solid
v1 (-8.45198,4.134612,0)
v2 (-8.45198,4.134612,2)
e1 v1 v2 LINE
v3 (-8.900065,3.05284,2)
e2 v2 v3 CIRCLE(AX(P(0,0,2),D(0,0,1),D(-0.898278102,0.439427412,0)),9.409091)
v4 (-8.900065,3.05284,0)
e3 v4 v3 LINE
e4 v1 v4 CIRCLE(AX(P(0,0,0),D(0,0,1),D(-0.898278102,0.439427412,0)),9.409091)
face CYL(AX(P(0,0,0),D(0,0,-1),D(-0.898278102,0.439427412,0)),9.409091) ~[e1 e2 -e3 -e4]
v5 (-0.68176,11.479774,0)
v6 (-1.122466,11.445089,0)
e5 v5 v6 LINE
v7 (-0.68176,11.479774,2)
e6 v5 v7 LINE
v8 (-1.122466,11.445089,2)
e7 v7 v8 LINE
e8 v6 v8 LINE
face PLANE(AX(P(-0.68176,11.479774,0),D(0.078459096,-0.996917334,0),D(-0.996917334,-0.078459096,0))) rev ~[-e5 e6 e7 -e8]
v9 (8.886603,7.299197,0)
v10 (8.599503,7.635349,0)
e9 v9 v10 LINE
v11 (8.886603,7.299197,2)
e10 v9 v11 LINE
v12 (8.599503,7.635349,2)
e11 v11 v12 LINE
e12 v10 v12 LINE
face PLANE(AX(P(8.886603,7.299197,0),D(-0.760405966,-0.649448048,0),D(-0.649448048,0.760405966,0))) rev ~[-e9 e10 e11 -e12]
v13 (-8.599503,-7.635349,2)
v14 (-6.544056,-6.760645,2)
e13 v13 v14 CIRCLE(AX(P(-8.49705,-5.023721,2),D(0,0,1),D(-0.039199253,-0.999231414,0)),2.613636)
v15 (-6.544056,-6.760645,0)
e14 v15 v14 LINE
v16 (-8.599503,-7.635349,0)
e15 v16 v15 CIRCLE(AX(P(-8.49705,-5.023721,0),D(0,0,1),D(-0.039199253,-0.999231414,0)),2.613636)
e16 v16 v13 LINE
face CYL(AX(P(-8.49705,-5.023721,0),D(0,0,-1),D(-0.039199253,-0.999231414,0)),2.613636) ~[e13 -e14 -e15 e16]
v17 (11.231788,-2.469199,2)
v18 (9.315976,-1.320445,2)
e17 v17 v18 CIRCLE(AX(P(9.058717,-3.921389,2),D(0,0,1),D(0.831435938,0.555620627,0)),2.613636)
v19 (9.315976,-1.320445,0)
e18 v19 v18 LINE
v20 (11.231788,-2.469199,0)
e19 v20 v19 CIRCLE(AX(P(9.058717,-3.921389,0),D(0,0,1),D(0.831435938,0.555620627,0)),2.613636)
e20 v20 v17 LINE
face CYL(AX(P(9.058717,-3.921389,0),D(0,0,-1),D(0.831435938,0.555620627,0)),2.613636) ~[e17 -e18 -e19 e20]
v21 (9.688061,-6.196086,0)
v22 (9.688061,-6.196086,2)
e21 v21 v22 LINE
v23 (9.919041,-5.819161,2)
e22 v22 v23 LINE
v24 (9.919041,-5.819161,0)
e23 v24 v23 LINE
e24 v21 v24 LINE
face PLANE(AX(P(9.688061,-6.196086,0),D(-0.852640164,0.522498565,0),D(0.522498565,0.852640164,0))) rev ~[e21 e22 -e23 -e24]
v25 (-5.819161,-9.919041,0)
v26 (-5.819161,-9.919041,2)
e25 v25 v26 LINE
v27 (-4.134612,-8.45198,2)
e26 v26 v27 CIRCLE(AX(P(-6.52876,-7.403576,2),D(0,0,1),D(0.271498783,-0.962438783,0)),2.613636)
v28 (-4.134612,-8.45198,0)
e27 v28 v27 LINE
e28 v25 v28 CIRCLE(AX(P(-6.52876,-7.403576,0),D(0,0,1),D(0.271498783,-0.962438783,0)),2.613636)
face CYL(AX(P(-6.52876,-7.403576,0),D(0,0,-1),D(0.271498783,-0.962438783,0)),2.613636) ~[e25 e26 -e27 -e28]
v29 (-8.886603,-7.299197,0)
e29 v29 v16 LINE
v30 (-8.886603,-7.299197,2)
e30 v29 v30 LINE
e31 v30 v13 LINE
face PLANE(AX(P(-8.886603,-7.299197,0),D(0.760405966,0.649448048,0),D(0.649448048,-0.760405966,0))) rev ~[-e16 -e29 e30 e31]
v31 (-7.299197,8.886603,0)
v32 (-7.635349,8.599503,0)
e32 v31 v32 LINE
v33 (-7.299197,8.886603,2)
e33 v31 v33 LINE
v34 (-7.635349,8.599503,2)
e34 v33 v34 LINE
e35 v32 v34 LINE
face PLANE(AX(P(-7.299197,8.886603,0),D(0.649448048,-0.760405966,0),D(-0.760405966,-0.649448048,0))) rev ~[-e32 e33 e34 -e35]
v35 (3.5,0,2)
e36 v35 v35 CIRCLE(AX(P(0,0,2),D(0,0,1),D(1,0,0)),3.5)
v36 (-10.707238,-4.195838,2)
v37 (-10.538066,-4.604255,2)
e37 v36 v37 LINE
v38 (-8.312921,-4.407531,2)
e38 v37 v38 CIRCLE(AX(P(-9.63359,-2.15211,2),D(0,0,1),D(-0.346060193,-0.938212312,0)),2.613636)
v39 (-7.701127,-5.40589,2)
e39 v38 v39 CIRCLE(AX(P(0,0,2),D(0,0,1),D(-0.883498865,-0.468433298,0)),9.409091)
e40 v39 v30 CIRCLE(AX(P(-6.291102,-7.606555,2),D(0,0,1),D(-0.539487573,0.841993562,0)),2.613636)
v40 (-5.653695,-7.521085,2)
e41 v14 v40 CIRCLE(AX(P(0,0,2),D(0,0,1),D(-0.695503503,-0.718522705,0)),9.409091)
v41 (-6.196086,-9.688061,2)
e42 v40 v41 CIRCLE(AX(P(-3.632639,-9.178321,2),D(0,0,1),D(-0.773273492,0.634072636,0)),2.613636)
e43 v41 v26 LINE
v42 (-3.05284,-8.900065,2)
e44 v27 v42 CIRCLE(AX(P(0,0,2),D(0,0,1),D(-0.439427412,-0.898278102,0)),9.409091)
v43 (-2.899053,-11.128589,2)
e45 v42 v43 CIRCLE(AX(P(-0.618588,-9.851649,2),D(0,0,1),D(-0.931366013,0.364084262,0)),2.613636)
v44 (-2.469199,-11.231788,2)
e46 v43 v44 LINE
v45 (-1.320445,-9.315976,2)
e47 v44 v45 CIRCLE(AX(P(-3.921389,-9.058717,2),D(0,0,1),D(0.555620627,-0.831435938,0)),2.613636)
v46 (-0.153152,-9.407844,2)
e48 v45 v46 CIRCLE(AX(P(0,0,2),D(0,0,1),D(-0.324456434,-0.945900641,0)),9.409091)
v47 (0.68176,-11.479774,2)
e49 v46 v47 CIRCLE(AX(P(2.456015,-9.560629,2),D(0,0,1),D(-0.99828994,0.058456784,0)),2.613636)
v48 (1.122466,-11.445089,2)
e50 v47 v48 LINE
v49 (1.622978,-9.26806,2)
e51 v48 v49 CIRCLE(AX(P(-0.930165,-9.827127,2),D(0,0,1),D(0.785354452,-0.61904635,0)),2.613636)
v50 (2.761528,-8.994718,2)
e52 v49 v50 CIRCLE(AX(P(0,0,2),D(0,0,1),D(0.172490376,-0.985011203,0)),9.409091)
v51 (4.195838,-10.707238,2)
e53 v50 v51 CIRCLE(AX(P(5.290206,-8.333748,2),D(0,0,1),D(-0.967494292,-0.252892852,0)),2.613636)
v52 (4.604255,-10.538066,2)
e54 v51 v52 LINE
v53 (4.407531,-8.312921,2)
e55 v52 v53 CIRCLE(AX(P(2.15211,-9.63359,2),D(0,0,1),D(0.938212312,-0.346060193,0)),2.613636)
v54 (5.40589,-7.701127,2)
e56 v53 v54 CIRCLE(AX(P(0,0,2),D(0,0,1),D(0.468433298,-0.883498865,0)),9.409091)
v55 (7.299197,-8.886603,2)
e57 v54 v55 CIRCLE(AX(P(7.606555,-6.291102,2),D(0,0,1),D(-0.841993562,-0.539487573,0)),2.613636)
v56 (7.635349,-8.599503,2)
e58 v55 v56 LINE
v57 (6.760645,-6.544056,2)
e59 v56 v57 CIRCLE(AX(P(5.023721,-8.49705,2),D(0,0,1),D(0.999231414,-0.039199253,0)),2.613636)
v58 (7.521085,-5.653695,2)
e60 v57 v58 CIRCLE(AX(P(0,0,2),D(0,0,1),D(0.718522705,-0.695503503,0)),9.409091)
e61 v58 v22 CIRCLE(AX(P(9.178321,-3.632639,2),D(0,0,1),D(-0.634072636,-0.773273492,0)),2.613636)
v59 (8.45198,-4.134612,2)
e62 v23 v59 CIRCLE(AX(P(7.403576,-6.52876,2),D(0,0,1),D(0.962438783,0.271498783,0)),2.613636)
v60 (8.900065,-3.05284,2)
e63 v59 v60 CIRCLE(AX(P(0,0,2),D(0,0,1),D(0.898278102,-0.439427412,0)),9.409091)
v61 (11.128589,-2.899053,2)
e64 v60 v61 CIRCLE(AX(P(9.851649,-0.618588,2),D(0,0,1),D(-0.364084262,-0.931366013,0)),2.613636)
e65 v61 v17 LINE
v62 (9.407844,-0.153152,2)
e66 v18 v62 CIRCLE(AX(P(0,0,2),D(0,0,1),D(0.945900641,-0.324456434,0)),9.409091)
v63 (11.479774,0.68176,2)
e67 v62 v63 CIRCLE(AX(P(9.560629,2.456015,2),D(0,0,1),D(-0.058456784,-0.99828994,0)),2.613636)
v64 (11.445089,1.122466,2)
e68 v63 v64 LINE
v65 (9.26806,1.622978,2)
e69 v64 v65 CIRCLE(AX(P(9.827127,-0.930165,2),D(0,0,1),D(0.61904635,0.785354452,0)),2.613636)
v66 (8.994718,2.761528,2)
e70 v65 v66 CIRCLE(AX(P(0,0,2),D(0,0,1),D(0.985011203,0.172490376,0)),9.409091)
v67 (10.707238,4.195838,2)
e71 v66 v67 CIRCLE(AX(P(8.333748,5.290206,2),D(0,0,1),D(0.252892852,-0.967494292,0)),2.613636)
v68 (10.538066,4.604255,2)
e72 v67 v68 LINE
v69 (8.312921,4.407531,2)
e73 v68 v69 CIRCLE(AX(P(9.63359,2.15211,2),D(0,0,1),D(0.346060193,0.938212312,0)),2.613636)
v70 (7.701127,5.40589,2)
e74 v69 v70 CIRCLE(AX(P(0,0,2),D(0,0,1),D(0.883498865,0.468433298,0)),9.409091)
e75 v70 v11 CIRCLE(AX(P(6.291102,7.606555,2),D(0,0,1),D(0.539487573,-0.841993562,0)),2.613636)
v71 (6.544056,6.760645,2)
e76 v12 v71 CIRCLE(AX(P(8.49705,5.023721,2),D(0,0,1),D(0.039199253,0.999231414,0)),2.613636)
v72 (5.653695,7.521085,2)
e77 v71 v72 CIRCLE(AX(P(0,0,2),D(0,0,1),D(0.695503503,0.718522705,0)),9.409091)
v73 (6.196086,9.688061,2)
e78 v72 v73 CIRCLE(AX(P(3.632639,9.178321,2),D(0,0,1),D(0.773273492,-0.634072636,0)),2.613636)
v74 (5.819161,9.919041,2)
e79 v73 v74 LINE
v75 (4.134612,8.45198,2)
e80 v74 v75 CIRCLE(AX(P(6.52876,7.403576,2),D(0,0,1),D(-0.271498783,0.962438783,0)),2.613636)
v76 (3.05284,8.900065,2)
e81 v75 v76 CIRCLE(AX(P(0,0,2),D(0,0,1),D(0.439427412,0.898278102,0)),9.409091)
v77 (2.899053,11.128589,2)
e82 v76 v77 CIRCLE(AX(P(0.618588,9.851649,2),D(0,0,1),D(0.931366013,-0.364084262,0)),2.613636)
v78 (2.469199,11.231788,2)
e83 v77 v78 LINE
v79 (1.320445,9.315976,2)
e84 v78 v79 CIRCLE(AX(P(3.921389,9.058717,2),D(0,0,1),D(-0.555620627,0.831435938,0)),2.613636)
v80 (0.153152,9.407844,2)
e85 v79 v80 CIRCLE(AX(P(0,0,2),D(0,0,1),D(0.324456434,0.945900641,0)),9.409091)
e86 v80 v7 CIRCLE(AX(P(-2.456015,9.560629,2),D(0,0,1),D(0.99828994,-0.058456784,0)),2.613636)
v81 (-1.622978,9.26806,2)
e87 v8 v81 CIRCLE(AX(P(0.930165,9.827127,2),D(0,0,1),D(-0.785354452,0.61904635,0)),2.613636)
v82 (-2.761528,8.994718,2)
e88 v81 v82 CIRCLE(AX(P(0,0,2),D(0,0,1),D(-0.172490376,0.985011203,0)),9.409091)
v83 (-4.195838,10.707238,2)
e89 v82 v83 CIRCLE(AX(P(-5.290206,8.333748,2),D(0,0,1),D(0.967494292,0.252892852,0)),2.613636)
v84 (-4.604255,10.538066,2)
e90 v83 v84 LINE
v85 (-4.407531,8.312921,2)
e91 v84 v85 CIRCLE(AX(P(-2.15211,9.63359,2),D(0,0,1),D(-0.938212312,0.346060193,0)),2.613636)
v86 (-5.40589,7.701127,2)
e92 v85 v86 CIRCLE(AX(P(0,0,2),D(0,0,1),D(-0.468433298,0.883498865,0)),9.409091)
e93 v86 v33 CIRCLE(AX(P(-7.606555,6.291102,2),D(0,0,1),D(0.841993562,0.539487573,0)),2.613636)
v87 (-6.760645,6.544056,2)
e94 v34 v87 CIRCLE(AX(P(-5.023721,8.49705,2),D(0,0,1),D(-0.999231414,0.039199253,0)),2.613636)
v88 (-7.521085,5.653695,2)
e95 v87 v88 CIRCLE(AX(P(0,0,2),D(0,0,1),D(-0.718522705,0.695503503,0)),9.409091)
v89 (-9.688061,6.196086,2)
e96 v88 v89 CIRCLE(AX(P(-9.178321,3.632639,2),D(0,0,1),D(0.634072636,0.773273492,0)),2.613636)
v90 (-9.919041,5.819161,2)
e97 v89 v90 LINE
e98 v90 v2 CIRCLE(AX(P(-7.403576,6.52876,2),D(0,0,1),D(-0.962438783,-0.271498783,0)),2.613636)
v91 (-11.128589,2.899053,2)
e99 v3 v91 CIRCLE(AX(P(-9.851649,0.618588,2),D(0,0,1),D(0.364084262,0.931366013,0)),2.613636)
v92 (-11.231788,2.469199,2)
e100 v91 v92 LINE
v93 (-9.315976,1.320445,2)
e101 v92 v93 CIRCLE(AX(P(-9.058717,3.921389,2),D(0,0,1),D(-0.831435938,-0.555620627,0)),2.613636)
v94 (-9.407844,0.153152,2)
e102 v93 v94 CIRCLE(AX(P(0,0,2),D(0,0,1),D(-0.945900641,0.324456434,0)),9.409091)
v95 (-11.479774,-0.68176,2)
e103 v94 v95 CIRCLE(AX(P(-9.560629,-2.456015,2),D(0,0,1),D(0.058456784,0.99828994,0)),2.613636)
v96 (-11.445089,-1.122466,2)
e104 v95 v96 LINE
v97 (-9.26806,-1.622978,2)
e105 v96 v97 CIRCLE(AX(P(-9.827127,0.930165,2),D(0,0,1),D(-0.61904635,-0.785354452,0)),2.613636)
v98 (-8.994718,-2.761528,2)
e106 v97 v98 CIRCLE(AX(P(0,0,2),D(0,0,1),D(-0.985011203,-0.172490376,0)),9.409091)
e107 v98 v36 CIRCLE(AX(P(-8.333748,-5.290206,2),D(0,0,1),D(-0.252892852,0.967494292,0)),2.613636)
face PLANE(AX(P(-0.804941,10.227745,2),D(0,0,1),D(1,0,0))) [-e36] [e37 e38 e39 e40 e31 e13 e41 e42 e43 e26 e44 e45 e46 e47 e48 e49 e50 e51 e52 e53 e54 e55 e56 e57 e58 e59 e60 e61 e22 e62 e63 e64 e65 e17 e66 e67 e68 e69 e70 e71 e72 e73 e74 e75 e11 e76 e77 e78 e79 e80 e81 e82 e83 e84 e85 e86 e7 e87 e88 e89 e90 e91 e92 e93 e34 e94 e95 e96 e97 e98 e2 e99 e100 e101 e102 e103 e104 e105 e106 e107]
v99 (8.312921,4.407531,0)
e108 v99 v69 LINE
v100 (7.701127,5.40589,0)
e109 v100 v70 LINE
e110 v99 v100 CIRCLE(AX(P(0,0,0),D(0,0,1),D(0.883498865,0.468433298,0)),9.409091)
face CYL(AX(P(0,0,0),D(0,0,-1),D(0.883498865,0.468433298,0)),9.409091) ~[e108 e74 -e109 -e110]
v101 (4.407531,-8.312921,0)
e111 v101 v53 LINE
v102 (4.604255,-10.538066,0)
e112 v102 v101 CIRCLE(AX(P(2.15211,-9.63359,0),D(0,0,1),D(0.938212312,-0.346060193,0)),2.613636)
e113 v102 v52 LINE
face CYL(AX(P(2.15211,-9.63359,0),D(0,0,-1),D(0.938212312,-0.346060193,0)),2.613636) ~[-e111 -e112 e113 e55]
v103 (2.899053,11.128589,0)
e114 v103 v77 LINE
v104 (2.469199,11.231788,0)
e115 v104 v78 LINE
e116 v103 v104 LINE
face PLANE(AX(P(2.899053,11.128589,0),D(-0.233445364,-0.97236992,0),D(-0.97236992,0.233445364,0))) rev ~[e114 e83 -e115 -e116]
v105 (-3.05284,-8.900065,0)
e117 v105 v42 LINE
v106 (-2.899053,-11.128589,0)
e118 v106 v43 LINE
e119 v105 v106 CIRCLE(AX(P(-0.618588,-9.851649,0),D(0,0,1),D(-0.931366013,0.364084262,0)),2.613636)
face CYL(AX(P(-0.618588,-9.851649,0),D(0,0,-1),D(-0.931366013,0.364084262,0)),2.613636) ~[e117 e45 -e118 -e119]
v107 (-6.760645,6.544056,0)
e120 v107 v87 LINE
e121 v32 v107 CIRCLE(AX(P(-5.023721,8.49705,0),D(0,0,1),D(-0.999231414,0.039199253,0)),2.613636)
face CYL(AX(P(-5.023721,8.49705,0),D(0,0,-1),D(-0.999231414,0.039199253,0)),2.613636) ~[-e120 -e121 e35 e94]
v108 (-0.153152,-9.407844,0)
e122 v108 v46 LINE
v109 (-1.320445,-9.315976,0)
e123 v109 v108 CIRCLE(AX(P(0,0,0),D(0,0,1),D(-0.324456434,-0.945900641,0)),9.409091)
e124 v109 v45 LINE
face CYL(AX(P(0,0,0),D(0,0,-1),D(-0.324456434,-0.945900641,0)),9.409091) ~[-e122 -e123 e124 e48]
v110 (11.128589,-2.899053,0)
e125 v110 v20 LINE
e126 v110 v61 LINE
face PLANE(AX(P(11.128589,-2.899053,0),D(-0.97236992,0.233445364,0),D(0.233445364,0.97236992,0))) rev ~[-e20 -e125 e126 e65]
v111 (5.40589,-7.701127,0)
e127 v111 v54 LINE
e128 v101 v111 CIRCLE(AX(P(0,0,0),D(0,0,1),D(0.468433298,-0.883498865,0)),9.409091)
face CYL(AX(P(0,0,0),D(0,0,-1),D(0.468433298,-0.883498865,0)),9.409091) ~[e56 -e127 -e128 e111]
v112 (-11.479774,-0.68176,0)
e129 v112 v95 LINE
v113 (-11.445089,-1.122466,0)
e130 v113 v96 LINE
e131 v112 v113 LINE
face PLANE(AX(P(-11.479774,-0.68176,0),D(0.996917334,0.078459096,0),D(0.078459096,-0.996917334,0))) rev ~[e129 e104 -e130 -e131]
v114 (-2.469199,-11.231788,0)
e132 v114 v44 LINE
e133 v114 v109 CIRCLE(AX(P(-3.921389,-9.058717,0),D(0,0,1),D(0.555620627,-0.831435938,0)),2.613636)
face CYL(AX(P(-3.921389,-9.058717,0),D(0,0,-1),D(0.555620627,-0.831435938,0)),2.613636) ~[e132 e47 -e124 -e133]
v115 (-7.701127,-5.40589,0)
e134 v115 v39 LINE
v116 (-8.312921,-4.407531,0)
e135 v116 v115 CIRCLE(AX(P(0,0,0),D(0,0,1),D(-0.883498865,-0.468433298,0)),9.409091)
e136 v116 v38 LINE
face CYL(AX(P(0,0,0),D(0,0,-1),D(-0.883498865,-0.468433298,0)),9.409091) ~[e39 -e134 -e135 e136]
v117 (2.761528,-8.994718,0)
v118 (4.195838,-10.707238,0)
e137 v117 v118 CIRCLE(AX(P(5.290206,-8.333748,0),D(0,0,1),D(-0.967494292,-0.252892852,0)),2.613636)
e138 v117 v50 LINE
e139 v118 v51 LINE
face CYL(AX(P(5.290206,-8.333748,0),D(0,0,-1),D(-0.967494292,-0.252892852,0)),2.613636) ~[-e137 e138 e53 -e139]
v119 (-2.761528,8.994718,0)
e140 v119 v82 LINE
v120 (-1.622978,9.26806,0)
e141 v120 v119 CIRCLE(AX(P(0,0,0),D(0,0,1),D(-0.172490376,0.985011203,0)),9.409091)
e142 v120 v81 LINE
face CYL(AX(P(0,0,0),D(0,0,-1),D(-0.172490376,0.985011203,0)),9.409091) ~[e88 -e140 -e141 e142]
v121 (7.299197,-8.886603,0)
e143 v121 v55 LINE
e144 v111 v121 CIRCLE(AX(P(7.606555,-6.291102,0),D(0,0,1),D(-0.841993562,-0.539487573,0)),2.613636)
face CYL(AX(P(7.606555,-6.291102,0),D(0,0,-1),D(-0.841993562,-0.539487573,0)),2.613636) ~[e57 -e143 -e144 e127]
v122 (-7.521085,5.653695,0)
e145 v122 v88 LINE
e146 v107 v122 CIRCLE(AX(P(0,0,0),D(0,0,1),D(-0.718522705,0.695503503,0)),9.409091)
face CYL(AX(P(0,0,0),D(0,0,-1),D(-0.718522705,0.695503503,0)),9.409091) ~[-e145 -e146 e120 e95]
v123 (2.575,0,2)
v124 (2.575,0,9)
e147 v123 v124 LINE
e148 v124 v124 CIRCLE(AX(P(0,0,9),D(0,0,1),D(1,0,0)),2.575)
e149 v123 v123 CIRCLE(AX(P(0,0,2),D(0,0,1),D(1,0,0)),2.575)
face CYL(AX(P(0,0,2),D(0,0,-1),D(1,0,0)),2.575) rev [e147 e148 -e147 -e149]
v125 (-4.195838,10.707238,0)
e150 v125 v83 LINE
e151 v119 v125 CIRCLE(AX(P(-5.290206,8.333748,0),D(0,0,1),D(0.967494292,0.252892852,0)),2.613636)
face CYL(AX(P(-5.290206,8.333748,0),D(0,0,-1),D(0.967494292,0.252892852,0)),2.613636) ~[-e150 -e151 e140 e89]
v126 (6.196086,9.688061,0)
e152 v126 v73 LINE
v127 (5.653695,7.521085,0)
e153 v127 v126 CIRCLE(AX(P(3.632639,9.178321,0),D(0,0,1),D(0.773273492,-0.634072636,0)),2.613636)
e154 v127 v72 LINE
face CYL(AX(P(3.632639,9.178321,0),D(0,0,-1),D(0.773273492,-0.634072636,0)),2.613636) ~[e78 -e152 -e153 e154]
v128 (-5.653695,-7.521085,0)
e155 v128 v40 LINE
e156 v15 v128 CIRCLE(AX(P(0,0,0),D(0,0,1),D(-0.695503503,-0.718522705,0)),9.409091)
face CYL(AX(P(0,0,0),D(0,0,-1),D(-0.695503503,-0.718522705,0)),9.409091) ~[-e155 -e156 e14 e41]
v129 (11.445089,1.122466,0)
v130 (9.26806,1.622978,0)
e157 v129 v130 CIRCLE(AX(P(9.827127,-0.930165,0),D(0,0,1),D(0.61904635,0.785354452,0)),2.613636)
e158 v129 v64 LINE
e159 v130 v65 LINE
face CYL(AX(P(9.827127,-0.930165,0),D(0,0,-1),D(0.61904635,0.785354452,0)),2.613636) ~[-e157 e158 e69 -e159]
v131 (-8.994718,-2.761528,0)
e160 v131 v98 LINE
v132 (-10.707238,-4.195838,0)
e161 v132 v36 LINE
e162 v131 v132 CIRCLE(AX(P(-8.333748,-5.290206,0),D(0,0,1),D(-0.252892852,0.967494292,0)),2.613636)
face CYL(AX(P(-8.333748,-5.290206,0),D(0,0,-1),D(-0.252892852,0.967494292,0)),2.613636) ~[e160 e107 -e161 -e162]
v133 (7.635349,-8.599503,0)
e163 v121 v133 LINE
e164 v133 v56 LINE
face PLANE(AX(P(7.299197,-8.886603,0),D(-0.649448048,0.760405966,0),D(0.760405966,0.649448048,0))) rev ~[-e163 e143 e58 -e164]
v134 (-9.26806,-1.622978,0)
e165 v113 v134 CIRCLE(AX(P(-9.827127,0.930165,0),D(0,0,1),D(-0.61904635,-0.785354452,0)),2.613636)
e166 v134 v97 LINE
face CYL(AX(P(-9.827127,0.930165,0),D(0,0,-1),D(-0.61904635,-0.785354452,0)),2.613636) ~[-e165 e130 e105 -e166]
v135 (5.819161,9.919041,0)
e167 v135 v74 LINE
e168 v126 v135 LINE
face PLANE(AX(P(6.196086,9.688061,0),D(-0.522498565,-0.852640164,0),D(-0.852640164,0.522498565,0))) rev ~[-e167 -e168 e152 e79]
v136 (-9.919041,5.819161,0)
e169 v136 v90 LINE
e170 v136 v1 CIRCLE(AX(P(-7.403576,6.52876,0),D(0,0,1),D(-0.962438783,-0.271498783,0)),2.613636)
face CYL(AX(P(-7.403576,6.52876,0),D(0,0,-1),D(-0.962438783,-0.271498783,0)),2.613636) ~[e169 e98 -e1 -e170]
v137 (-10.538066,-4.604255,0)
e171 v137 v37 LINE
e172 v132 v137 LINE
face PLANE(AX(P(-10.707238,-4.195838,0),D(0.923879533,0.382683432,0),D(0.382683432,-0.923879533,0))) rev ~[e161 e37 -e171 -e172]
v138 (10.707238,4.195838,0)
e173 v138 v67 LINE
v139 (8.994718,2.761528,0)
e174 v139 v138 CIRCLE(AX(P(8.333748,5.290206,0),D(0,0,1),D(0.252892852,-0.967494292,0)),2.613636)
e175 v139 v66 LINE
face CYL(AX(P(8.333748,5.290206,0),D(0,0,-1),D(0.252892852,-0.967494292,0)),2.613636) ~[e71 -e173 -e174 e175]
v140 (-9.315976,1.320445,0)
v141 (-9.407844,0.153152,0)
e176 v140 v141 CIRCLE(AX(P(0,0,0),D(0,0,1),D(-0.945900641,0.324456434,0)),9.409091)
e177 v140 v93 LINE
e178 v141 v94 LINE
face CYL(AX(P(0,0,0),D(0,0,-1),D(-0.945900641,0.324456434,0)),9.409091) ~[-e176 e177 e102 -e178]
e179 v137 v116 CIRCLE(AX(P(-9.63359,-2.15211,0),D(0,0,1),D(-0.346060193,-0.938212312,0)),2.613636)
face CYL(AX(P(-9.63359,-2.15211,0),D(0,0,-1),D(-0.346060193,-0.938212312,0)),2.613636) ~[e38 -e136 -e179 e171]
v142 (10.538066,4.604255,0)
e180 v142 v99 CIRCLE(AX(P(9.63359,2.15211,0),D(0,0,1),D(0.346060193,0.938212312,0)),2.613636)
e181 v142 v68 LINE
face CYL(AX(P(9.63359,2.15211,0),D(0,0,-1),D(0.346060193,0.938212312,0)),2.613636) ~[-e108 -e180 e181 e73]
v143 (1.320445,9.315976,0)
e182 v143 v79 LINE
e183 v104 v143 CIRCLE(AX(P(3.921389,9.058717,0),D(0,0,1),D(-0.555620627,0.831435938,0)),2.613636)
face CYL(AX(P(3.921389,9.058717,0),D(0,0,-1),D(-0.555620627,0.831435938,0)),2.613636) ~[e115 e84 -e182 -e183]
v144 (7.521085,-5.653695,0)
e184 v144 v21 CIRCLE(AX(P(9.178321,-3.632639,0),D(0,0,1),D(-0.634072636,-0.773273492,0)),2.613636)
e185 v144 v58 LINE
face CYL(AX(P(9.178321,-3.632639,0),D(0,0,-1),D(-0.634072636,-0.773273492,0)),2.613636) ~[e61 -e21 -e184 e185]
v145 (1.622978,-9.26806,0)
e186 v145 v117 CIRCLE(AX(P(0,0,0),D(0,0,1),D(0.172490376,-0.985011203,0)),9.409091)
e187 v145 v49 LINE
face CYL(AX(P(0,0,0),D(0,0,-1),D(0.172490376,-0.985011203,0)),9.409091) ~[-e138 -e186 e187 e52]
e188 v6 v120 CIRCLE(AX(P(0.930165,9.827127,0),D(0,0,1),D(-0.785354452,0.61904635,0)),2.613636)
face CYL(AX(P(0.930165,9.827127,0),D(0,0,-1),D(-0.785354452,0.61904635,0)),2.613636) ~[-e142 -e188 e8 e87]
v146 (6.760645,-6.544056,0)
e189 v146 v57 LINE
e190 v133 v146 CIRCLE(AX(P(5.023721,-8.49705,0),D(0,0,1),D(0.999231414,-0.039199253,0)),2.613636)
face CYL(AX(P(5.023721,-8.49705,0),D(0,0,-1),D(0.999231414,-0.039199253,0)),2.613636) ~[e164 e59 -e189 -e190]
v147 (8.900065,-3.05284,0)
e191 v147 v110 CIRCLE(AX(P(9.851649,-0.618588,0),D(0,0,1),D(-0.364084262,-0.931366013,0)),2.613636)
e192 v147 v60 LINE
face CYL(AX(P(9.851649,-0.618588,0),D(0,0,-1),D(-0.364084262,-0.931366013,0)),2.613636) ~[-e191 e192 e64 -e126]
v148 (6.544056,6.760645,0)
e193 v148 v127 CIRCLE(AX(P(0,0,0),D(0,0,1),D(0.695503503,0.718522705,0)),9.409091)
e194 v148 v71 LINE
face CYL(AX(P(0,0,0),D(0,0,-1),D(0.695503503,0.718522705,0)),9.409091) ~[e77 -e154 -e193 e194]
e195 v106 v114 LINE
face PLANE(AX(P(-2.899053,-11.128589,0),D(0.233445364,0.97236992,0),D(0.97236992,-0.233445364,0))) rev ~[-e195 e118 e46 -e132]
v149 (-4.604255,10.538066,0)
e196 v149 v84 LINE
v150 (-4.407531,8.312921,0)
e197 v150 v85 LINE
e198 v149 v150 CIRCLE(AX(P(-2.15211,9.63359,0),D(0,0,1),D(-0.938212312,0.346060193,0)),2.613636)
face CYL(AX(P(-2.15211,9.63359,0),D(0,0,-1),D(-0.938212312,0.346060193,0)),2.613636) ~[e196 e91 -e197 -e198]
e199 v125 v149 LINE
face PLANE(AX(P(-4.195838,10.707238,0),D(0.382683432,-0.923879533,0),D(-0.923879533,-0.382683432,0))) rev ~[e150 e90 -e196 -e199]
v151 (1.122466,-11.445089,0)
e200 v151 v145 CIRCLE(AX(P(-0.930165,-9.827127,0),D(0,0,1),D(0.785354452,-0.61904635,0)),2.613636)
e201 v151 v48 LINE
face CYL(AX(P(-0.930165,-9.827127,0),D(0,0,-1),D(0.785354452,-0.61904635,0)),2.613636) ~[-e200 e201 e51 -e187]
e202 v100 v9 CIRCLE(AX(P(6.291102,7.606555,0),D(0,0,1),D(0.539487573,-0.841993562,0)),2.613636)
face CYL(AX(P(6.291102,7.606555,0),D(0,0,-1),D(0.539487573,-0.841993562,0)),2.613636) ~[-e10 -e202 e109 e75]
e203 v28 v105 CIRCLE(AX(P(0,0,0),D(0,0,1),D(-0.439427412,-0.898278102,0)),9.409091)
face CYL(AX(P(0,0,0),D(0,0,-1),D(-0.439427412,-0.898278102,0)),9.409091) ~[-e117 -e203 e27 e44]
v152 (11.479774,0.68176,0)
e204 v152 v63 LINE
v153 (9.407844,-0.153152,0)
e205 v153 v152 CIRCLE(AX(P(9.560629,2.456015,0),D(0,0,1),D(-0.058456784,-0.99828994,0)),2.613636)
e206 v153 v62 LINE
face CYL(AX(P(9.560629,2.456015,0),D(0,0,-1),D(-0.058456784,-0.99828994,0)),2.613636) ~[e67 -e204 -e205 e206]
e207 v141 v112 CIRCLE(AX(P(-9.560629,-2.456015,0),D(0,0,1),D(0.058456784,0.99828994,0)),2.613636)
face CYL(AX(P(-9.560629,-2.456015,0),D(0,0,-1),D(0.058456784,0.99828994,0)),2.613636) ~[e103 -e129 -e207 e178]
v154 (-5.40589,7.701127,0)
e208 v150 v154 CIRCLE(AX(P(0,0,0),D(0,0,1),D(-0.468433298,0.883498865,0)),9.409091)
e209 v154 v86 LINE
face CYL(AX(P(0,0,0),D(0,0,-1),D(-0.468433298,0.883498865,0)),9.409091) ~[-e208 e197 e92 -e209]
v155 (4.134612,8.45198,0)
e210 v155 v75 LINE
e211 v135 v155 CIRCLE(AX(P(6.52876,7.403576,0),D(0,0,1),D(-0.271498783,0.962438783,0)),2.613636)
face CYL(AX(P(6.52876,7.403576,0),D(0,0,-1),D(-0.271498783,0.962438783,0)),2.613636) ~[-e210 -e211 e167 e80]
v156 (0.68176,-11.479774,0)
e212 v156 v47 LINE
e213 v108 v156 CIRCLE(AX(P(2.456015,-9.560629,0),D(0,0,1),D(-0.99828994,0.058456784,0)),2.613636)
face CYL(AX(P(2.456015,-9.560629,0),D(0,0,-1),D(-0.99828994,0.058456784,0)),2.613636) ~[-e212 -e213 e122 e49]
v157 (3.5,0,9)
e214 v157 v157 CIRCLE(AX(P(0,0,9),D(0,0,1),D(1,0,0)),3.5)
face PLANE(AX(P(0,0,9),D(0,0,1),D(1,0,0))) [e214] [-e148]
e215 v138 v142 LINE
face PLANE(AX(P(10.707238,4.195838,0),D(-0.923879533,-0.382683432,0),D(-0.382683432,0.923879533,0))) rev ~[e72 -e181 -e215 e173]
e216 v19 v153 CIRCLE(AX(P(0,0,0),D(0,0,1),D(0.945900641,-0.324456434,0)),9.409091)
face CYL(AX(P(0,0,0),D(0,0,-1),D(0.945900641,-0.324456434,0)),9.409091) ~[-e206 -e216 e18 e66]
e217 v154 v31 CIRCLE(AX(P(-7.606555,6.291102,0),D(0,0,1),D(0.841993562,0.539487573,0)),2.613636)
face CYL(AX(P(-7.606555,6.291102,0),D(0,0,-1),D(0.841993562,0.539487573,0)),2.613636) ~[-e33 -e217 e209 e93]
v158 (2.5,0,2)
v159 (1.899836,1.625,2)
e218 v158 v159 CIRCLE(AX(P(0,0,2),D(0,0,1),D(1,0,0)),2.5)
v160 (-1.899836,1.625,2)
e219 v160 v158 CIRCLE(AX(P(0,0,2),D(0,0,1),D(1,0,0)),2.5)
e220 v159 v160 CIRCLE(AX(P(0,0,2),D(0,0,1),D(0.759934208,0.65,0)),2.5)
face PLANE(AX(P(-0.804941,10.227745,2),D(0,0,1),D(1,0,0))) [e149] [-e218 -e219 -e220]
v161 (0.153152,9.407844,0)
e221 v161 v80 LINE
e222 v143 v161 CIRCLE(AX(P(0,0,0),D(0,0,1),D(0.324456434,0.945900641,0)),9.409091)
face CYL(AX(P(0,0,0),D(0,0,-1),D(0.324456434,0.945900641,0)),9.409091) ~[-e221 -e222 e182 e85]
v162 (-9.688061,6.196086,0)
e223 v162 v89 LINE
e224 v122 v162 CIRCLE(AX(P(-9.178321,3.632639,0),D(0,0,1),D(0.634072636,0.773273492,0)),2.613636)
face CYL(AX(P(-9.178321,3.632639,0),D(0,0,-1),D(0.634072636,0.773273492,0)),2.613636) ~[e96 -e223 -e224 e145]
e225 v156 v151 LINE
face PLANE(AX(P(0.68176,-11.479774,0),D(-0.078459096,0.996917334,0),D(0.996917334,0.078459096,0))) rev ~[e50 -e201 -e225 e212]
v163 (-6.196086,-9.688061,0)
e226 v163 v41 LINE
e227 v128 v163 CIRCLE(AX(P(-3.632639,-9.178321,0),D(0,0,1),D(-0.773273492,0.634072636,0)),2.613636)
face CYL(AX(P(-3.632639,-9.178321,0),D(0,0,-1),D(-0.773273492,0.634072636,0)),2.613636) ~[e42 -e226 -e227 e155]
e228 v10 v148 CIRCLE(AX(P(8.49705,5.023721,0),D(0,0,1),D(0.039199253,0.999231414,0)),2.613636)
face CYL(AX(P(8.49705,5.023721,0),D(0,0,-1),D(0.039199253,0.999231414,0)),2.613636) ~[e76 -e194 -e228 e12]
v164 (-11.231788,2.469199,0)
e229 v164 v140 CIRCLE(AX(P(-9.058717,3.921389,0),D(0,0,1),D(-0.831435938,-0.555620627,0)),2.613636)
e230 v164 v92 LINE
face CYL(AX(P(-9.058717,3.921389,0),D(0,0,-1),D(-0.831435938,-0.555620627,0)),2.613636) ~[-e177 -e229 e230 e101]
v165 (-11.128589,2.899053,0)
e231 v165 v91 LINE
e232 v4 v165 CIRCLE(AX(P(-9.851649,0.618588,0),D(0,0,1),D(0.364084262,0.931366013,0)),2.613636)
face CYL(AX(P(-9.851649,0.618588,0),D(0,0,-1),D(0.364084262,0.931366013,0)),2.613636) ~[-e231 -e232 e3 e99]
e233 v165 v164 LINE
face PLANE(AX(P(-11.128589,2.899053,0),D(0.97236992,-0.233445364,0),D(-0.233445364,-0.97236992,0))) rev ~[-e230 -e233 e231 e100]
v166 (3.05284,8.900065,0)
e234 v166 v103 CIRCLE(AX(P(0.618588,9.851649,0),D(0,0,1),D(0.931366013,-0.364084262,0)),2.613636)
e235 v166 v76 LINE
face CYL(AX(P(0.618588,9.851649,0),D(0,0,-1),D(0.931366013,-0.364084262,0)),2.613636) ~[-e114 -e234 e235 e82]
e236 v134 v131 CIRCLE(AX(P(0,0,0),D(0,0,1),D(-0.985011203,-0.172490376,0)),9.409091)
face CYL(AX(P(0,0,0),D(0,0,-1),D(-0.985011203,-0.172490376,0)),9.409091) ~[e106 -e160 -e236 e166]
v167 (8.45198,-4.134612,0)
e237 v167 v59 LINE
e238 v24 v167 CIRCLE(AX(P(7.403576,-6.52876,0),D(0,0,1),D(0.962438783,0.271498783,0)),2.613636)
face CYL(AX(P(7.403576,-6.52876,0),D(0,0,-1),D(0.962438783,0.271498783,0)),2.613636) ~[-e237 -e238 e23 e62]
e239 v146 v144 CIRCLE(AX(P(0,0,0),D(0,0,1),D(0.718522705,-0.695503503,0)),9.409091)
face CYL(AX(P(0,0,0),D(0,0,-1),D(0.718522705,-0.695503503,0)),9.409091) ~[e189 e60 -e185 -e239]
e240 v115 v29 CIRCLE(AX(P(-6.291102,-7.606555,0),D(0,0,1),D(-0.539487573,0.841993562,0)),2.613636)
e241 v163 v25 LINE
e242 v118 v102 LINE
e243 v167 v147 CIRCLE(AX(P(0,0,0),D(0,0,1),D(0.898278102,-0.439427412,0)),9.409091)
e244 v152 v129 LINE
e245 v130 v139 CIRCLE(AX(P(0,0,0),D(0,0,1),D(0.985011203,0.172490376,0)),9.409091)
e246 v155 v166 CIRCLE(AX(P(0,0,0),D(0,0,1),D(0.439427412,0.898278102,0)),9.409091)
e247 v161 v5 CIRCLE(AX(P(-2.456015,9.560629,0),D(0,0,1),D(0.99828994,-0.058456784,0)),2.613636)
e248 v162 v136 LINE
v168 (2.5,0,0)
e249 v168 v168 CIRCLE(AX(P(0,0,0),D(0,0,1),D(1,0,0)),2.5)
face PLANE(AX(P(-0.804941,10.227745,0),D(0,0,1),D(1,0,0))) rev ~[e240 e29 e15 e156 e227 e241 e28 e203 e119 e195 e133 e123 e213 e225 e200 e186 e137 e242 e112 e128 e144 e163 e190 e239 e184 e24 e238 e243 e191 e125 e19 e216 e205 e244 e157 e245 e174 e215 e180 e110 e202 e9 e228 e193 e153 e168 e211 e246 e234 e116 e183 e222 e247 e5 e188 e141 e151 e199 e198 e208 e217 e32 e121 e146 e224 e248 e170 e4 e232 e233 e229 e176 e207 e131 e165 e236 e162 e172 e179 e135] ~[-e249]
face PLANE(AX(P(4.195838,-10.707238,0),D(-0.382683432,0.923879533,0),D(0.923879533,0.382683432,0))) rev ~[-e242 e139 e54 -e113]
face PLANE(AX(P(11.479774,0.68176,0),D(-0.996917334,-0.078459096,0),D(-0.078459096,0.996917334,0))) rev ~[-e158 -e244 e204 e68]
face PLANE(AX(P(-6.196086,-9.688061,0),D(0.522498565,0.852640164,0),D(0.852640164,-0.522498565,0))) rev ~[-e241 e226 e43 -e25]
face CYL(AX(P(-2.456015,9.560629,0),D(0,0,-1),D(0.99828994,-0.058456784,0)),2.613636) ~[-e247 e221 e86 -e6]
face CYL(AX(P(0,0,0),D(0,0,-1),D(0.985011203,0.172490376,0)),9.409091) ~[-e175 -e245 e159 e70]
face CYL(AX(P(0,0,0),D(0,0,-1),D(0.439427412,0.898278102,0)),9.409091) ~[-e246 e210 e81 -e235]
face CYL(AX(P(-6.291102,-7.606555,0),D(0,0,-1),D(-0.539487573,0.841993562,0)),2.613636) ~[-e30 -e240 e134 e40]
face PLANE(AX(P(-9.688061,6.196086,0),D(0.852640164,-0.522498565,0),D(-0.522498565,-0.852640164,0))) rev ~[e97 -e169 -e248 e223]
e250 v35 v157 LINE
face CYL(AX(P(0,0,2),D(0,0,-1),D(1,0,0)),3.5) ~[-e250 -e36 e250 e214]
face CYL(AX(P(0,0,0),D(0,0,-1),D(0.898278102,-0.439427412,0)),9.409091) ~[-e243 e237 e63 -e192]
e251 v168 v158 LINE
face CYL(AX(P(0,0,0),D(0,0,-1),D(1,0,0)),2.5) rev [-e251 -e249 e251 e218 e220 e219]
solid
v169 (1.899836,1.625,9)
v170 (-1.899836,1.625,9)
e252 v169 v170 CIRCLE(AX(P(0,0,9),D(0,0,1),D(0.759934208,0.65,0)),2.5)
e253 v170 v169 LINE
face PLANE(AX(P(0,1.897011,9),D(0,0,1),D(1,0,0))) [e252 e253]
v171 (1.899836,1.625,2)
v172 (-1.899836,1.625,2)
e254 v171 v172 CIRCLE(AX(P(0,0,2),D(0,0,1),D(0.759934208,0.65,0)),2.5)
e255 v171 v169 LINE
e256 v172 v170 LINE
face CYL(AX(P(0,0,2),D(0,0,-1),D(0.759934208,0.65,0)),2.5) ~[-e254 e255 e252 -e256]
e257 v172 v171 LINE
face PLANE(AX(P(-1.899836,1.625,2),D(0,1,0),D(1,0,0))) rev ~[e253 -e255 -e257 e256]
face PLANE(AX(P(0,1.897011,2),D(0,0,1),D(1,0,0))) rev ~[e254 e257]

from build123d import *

# Parameters (mm, degrees)
F1_R     = 2.5
F2_DEPTH = 2
F3_R     = 3.5
F3_R_2   = 2.575
F4_DEPTH = 7


with BuildPart() as f2:
    # F1 (on Top) → F2 (new body)
    with BuildSketch(Plane.XY):
        with BuildLine():
            ThreePointArc((-1.6229776334, 9.2680599554), (-0.7382287643, 9.3800858219), (0.1531520845, 9.4078443957))
            ThreePointArc((0.1531520845, 9.4078443957), (-0.0317997207, 10.5374998224), (-0.6817601701, 11.4797736507))
            Line((-0.6817601701, 11.4797736507), (-1.1224656787, 11.4450893749))
            ThreePointArc((-1.1224656787, 11.4450893749), (-1.6170199342, 10.4127402859), (-1.6229776334, 9.2680599554))
        make_face()
        with BuildLine():
            ThreePointArc((9.4078443957, -0.1531520845), (9.4087792756, -0.0765785786), (9.4090909091, 0))
            ThreePointArc((9.4090909091, 0), (9.3737668631, 0.8145468262), (9.2680599554, 1.6229776334))
            ThreePointArc((9.2680599554, 1.6229776334), (9.1491169783, 2.1965086508), (8.9947183137, 2.7615275108))
            ThreePointArc((8.9947183137, 2.7615275108), (8.6928665104, 3.6007032045), (8.3129211438, 4.4075314852))
            ThreePointArc((8.3129211438, 4.4075314852), (8.0225688191, 4.9162364953), (7.7011265332, 5.4058895526))
            ThreePointArc((7.7011265332, 5.4058895526), (7.1547288581, 6.1107157275), (6.5440556911, 6.7606454461))
            ThreePointArc((6.5440556911, 6.7606454461), (6.1107157275, 7.1547288581), (5.6536948308, 7.52108546))
            ThreePointArc((5.6536948308, 7.52108546), (4.9162364953, 8.0225688191), (4.1346124722, 8.4519803265))
            ThreePointArc((4.1346124722, 8.4519803265), (3.6007032045, 8.6928665104), (3.0528400867, 8.90006512))
            ThreePointArc((3.0528400867, 8.90006512), (2.1965086508, 9.1491169783), (1.320444577, 9.3159764842))
            ThreePointArc((1.320444577, 9.3159764842), (0.7382287643, 9.3800858219), (0.1531520845, 9.4078443957))
            ThreePointArc((0.1531520845, 9.4078443957), (-0.7382287643, 9.3800858219), (-1.6229776334, 9.2680599554))
            ThreePointArc((-1.6229776334, 9.2680599554), (-2.1965086508, 9.1491169783), (-2.7615275108, 8.9947183137))
            ThreePointArc((-2.7615275108, 8.9947183137), (-3.6007032045, 8.6928665104), (-4.4075314852, 8.3129211438))
            ThreePointArc((-4.4075314852, 8.3129211438), (-4.9162364953, 8.0225688191), (-5.4058895526, 7.7011265332))
            ThreePointArc((-5.4058895526, 7.7011265332), (-6.1107157275, 7.1547288581), (-6.7606454461, 6.5440556911))
            ThreePointArc((-6.7606454461, 6.5440556911), (-7.1547288581, 6.1107157275), (-7.52108546, 5.6536948308))
            ThreePointArc((-7.52108546, 5.6536948308), (-8.0225688191, 4.9162364953), (-8.4519803265, 4.1346124722))
            ThreePointArc((-8.4519803265, 4.1346124722), (-8.6928665104, 3.6007032045), (-8.90006512, 3.0528400867))
            ThreePointArc((-8.90006512, 3.0528400867), (-9.1491169783, 2.1965086508), (-9.3159764842, 1.320444577))
            ThreePointArc((-9.3159764842, 1.320444577), (-9.3800858219, 0.7382287643), (-9.4078443957, 0.1531520845))
            ThreePointArc((-9.4078443957, 0.1531520845), (-9.3800858219, -0.7382287643), (-9.2680599554, -1.6229776334))
            ThreePointArc((-9.2680599554, -1.6229776334), (-9.1491169783, -2.1965086508), (-8.9947183137, -2.7615275108))
            ThreePointArc((-8.9947183137, -2.7615275108), (-8.6928665104, -3.6007032045), (-8.3129211438, -4.4075314852))
            ThreePointArc((-8.3129211438, -4.4075314852), (-8.0225688191, -4.9162364953), (-7.7011265332, -5.4058895526))
            ThreePointArc((-7.7011265332, -5.4058895526), (-7.1547288581, -6.1107157275), (-6.5440556911, -6.7606454461))
            ThreePointArc((-6.5440556911, -6.7606454461), (-6.1107157275, -7.1547288581), (-5.6536948308, -7.52108546))
            ThreePointArc((-5.6536948308, -7.52108546), (-4.9162364953, -8.0225688191), (-4.1346124722, -8.4519803265))
            ThreePointArc((-4.1346124722, -8.4519803265), (-3.6007032045, -8.6928665104), (-3.0528400867, -8.90006512))
            ThreePointArc((-3.0528400867, -8.90006512), (-2.1965086508, -9.1491169783), (-1.320444577, -9.3159764842))
            ThreePointArc((-1.320444577, -9.3159764842), (-0.7382287643, -9.3800858219), (-0.1531520845, -9.4078443957))
            ThreePointArc((-0.1531520845, -9.4078443957), (0.7382287643, -9.3800858219), (1.6229776334, -9.2680599554))
            ThreePointArc((1.6229776334, -9.2680599554), (2.1965086508, -9.1491169783), (2.7615275108, -8.9947183137))
            ThreePointArc((2.7615275108, -8.9947183137), (3.6007032045, -8.6928665104), (4.4075314852, -8.3129211438))
            ThreePointArc((4.4075314852, -8.3129211438), (4.9162364953, -8.0225688191), (5.4058895526, -7.7011265332))
            ThreePointArc((5.4058895526, -7.7011265332), (6.1107157275, -7.1547288581), (6.7606454461, -6.5440556911))
            ThreePointArc((6.7606454461, -6.5440556911), (7.1547288581, -6.1107157275), (7.52108546, -5.6536948308))
            ThreePointArc((7.52108546, -5.6536948308), (8.0225688191, -4.9162364953), (8.4519803265, -4.1346124722))
            ThreePointArc((8.4519803265, -4.1346124722), (8.6928665104, -3.6007032045), (8.90006512, -3.0528400867))
            ThreePointArc((8.90006512, -3.0528400867), (9.1491169783, -2.1965086508), (9.3159764842, -1.320444577))
            ThreePointArc((9.3159764842, -1.320444577), (9.3800858219, -0.7382287643), (9.4078443957, -0.1531520845))
        make_face()
        Circle(F1_R, mode=Mode.SUBTRACT)
        with BuildLine():
            ThreePointArc((-4.4075314852, 8.3129211438), (-3.6007032045, 8.6928665104), (-2.7615275108, 8.9947183137))
            ThreePointArc((-2.7615275108, 8.9947183137), (-3.286509855, 10.0119312174), (-4.195837602, 10.7072380574))
            Line((-4.195837602, 10.7072380574), (-4.604255417, 10.5380658593))
            ThreePointArc((-4.604255417, 10.5380658593), (-4.7555910517, 9.4034178615), (-4.4075314852, 8.3129211438))
        make_face()
        with BuildLine():
            ThreePointArc((-6.7606454461, 6.5440556911), (-6.1107157275, 7.1547288581), (-5.4058895526, 7.7011265332))
            ThreePointArc((-5.4058895526, 7.7011265332), (-6.2195135061, 8.5063250277), (-7.2991972152, 8.8866034014))
            Line((-7.2991972152, 8.8866034014), (-7.6353485554, 8.5995030343))
            ThreePointArc((-7.6353485554, 8.5995030343), (-7.428651783, 7.4736233793), (-6.7606454461, 6.5440556911))
        make_face()
        with BuildLine():
            ThreePointArc((-8.4519803265, 4.1346124722), (-8.0225688191, 4.9162364953), (-7.52108546, 5.6536948308))
            ThreePointArc((-7.52108546, 5.6536948308), (-8.5437078414, 6.1680604771), (-9.6880605486, 6.1960860878))
            Line((-9.6880605486, 6.1960860878), (-9.9190405786, 5.8191609361))
            ThreePointArc((-9.9190405786, 5.8191609361), (-9.3745443193, 4.812258569), (-8.4519803265, 4.1346124722))
        make_face()
        with BuildLine():
            ThreePointArc((-9.3159764842, 1.320444577), (-9.1491169783, 2.1965086508), (-8.90006512, 3.0528400867))
            ThreePointArc((-8.90006512, 3.0528400867), (-10.0315845257, 3.2260231917), (-11.1285890147, 2.8990526973))
            Line((-11.1285890147, 2.8990526973), (-11.2317877999, 2.469198821))
            ThreePointArc((-11.2317877999, 2.469198821), (-10.4027911413, 1.679836361), (-9.3159764842, 1.320444577))
        make_face()
        with BuildLine():
            ThreePointArc((-9.2680599554, -1.6229776334), (-9.3800858219, -0.7382287643), (-9.4078443957, 0.1531520845))
            ThreePointArc((-9.4078443957, 0.1531520845), (-10.5374998224, -0.0317997207), (-11.4797736507, -0.6817601701))
            Line((-11.4797736507, -0.6817601701), (-11.4450893749, -1.1224656787))
            ThreePointArc((-11.4450893749, -1.1224656787), (-10.4127402859, -1.6170199342), (-9.2680599554, -1.6229776334))
        make_face()
        with BuildLine():
            ThreePointArc((-10.5380658593, -4.604255417), (-9.4034178615, -4.7555910517), (-8.3129211438, -4.4075314852))
            ThreePointArc((-8.3129211438, -4.4075314852), (-8.6928665104, -3.6007032045), (-8.9947183137, -2.7615275108))
            ThreePointArc((-8.9947183137, -2.7615275108), (-10.0119312174, -3.286509855), (-10.7072380574, -4.195837602))
            Line((-10.7072380574, -4.195837602), (-10.5380658593, -4.604255417))
        make_face()
        with BuildLine():
            ThreePointArc((-8.5995030343, -7.6353485554), (-7.4736233793, -7.428651783), (-6.5440556911, -6.7606454461))
            ThreePointArc((-6.5440556911, -6.7606454461), (-7.1547288581, -6.1107157275), (-7.7011265332, -5.4058895526))
            ThreePointArc((-7.7011265332, -5.4058895526), (-8.5063250277, -6.2195135061), (-8.8866034014, -7.2991972152))
            Line((-8.8866034014, -7.2991972152), (-8.5995030343, -7.6353485554))
        make_face()
        with BuildLine():
            ThreePointArc((-5.8191609361, -9.9190405786), (-4.812258569, -9.3745443193), (-4.1346124722, -8.4519803265))
            ThreePointArc((-4.1346124722, -8.4519803265), (-4.9162364953, -8.0225688191), (-5.6536948308, -7.52108546))
            ThreePointArc((-5.6536948308, -7.52108546), (-6.1680604771, -8.5437078414), (-6.1960860878, -9.6880605486))
            Line((-6.1960860878, -9.6880605486), (-5.8191609361, -9.9190405786))
        make_face()
        with BuildLine():
            ThreePointArc((-2.469198821, -11.2317877999), (-1.679836361, -10.4027911413), (-1.320444577, -9.3159764842))
            ThreePointArc((-1.320444577, -9.3159764842), (-2.1965086508, -9.1491169783), (-3.0528400867, -8.90006512))
            ThreePointArc((-3.0528400867, -8.90006512), (-3.2260231917, -10.0315845257), (-2.8990526973, -11.1285890147))
            Line((-2.8990526973, -11.1285890147), (-2.469198821, -11.2317877999))
        make_face()
        with BuildLine():
            ThreePointArc((1.1224656787, -11.4450893749), (1.6170199342, -10.4127402859), (1.6229776334, -9.2680599554))
            ThreePointArc((1.6229776334, -9.2680599554), (0.7382287643, -9.3800858219), (-0.1531520845, -9.4078443957))
            ThreePointArc((-0.1531520845, -9.4078443957), (0.0317997207, -10.5374998224), (0.6817601701, -11.4797736507))
            Line((0.6817601701, -11.4797736507), (1.1224656787, -11.4450893749))
        make_face()
        with BuildLine():
            ThreePointArc((4.604255417, -10.5380658593), (4.7555910517, -9.4034178615), (4.4075314852, -8.3129211438))
            ThreePointArc((4.4075314852, -8.3129211438), (3.6007032045, -8.6928665104), (2.7615275108, -8.9947183137))
            ThreePointArc((2.7615275108, -8.9947183137), (3.286509855, -10.0119312174), (4.195837602, -10.7072380574))
            Line((4.195837602, -10.7072380574), (4.604255417, -10.5380658593))
        make_face()
        with BuildLine():
            ThreePointArc((7.6353485554, -8.5995030343), (7.428651783, -7.4736233793), (6.7606454461, -6.5440556911))
            ThreePointArc((6.7606454461, -6.5440556911), (6.1107157275, -7.1547288581), (5.4058895526, -7.7011265332))
            ThreePointArc((5.4058895526, -7.7011265332), (6.2195135061, -8.5063250277), (7.2991972152, -8.8866034014))
            Line((7.2991972152, -8.8866034014), (7.6353485554, -8.5995030343))
        make_face()
        with BuildLine():
            ThreePointArc((9.9190405786, -5.8191609361), (9.3745443193, -4.812258569), (8.4519803265, -4.1346124722))
            ThreePointArc((8.4519803265, -4.1346124722), (8.0225688191, -4.9162364953), (7.52108546, -5.6536948308))
            ThreePointArc((7.52108546, -5.6536948308), (8.5437078414, -6.1680604771), (9.6880605486, -6.1960860878))
            Line((9.6880605486, -6.1960860878), (9.9190405786, -5.8191609361))
        make_face()
        with BuildLine():
            ThreePointArc((11.2317877999, -2.469198821), (10.4027911413, -1.679836361), (9.3159764842, -1.320444577))
            ThreePointArc((9.3159764842, -1.320444577), (9.1491169783, -2.1965086508), (8.90006512, -3.0528400867))
            ThreePointArc((8.90006512, -3.0528400867), (10.0315845257, -3.2260231917), (11.1285890147, -2.8990526973))
            Line((11.1285890147, -2.8990526973), (11.2317877999, -2.469198821))
        make_face()
        with BuildLine():
            ThreePointArc((9.2680599554, 1.6229776334), (9.3737668631, 0.8145468262), (9.4090909091, 0))
            ThreePointArc((9.4090909091, 0), (9.4087792756, -0.0765785786), (9.4078443957, -0.1531520845))
            ThreePointArc((9.4078443957, -0.1531520845), (10.5374998224, 0.0317997207), (11.4797736507, 0.6817601701))
            Line((11.4797736507, 0.6817601701), (11.4450893749, 1.1224656787))
            ThreePointArc((11.4450893749, 1.1224656787), (10.4127402859, 1.6170199342), (9.2680599554, 1.6229776334))
        make_face()
        with BuildLine():
            ThreePointArc((8.3129211438, 4.4075314852), (8.6928665104, 3.6007032045), (8.9947183137, 2.7615275108))
            ThreePointArc((8.9947183137, 2.7615275108), (10.0119312174, 3.286509855), (10.7072380574, 4.195837602))
            Line((10.7072380574, 4.195837602), (10.5380658593, 4.604255417))
            ThreePointArc((10.5380658593, 4.604255417), (9.4034178615, 4.7555910517), (8.3129211438, 4.4075314852))
        make_face()
        with BuildLine():
            ThreePointArc((6.5440556911, 6.7606454461), (7.1547288581, 6.1107157275), (7.7011265332, 5.4058895526))
            ThreePointArc((7.7011265332, 5.4058895526), (8.5063250277, 6.2195135061), (8.8866034014, 7.2991972152))
            Line((8.8866034014, 7.2991972152), (8.5995030343, 7.6353485554))
            ThreePointArc((8.5995030343, 7.6353485554), (7.4736233793, 7.428651783), (6.5440556911, 6.7606454461))
        make_face()
        with BuildLine():
            ThreePointArc((4.1346124722, 8.4519803265), (4.9162364953, 8.0225688191), (5.6536948308, 7.52108546))
            ThreePointArc((5.6536948308, 7.52108546), (6.1680604771, 8.5437078414), (6.1960860878, 9.6880605486))
            Line((6.1960860878, 9.6880605486), (5.8191609361, 9.9190405786))
            ThreePointArc((5.8191609361, 9.9190405786), (4.812258569, 9.3745443193), (4.1346124722, 8.4519803265))
        make_face()
        with BuildLine():
            ThreePointArc((1.320444577, 9.3159764842), (2.1965086508, 9.1491169783), (3.0528400867, 8.90006512))
            ThreePointArc((3.0528400867, 8.90006512), (3.2260231917, 10.0315845257), (2.8990526973, 11.1285890147))
            Line((2.8990526973, 11.1285890147), (2.469198821, 11.2317877999))
            ThreePointArc((2.469198821, 11.2317877999), (1.679836361, 10.4027911413), (1.320444577, 9.3159764842))
        make_face()
    extrude(amount=F2_DEPTH)

    # F3 (on face) → F4 (join)
    with BuildSketch(Plane.XY.offset(2)):
        Circle(F3_R)
        Circle(F3_R_2, mode=Mode.SUBTRACT)
        with BuildLine():
            ThreePointArc((1.8998355192, 1.625), (0, 2.5), (-1.8998355192, 1.625))
            Line((-1.8998355192, 1.625), (1.8998355192, 1.625))
        make_face()
    extrude(amount=F4_DEPTH)


solid = f2.part
